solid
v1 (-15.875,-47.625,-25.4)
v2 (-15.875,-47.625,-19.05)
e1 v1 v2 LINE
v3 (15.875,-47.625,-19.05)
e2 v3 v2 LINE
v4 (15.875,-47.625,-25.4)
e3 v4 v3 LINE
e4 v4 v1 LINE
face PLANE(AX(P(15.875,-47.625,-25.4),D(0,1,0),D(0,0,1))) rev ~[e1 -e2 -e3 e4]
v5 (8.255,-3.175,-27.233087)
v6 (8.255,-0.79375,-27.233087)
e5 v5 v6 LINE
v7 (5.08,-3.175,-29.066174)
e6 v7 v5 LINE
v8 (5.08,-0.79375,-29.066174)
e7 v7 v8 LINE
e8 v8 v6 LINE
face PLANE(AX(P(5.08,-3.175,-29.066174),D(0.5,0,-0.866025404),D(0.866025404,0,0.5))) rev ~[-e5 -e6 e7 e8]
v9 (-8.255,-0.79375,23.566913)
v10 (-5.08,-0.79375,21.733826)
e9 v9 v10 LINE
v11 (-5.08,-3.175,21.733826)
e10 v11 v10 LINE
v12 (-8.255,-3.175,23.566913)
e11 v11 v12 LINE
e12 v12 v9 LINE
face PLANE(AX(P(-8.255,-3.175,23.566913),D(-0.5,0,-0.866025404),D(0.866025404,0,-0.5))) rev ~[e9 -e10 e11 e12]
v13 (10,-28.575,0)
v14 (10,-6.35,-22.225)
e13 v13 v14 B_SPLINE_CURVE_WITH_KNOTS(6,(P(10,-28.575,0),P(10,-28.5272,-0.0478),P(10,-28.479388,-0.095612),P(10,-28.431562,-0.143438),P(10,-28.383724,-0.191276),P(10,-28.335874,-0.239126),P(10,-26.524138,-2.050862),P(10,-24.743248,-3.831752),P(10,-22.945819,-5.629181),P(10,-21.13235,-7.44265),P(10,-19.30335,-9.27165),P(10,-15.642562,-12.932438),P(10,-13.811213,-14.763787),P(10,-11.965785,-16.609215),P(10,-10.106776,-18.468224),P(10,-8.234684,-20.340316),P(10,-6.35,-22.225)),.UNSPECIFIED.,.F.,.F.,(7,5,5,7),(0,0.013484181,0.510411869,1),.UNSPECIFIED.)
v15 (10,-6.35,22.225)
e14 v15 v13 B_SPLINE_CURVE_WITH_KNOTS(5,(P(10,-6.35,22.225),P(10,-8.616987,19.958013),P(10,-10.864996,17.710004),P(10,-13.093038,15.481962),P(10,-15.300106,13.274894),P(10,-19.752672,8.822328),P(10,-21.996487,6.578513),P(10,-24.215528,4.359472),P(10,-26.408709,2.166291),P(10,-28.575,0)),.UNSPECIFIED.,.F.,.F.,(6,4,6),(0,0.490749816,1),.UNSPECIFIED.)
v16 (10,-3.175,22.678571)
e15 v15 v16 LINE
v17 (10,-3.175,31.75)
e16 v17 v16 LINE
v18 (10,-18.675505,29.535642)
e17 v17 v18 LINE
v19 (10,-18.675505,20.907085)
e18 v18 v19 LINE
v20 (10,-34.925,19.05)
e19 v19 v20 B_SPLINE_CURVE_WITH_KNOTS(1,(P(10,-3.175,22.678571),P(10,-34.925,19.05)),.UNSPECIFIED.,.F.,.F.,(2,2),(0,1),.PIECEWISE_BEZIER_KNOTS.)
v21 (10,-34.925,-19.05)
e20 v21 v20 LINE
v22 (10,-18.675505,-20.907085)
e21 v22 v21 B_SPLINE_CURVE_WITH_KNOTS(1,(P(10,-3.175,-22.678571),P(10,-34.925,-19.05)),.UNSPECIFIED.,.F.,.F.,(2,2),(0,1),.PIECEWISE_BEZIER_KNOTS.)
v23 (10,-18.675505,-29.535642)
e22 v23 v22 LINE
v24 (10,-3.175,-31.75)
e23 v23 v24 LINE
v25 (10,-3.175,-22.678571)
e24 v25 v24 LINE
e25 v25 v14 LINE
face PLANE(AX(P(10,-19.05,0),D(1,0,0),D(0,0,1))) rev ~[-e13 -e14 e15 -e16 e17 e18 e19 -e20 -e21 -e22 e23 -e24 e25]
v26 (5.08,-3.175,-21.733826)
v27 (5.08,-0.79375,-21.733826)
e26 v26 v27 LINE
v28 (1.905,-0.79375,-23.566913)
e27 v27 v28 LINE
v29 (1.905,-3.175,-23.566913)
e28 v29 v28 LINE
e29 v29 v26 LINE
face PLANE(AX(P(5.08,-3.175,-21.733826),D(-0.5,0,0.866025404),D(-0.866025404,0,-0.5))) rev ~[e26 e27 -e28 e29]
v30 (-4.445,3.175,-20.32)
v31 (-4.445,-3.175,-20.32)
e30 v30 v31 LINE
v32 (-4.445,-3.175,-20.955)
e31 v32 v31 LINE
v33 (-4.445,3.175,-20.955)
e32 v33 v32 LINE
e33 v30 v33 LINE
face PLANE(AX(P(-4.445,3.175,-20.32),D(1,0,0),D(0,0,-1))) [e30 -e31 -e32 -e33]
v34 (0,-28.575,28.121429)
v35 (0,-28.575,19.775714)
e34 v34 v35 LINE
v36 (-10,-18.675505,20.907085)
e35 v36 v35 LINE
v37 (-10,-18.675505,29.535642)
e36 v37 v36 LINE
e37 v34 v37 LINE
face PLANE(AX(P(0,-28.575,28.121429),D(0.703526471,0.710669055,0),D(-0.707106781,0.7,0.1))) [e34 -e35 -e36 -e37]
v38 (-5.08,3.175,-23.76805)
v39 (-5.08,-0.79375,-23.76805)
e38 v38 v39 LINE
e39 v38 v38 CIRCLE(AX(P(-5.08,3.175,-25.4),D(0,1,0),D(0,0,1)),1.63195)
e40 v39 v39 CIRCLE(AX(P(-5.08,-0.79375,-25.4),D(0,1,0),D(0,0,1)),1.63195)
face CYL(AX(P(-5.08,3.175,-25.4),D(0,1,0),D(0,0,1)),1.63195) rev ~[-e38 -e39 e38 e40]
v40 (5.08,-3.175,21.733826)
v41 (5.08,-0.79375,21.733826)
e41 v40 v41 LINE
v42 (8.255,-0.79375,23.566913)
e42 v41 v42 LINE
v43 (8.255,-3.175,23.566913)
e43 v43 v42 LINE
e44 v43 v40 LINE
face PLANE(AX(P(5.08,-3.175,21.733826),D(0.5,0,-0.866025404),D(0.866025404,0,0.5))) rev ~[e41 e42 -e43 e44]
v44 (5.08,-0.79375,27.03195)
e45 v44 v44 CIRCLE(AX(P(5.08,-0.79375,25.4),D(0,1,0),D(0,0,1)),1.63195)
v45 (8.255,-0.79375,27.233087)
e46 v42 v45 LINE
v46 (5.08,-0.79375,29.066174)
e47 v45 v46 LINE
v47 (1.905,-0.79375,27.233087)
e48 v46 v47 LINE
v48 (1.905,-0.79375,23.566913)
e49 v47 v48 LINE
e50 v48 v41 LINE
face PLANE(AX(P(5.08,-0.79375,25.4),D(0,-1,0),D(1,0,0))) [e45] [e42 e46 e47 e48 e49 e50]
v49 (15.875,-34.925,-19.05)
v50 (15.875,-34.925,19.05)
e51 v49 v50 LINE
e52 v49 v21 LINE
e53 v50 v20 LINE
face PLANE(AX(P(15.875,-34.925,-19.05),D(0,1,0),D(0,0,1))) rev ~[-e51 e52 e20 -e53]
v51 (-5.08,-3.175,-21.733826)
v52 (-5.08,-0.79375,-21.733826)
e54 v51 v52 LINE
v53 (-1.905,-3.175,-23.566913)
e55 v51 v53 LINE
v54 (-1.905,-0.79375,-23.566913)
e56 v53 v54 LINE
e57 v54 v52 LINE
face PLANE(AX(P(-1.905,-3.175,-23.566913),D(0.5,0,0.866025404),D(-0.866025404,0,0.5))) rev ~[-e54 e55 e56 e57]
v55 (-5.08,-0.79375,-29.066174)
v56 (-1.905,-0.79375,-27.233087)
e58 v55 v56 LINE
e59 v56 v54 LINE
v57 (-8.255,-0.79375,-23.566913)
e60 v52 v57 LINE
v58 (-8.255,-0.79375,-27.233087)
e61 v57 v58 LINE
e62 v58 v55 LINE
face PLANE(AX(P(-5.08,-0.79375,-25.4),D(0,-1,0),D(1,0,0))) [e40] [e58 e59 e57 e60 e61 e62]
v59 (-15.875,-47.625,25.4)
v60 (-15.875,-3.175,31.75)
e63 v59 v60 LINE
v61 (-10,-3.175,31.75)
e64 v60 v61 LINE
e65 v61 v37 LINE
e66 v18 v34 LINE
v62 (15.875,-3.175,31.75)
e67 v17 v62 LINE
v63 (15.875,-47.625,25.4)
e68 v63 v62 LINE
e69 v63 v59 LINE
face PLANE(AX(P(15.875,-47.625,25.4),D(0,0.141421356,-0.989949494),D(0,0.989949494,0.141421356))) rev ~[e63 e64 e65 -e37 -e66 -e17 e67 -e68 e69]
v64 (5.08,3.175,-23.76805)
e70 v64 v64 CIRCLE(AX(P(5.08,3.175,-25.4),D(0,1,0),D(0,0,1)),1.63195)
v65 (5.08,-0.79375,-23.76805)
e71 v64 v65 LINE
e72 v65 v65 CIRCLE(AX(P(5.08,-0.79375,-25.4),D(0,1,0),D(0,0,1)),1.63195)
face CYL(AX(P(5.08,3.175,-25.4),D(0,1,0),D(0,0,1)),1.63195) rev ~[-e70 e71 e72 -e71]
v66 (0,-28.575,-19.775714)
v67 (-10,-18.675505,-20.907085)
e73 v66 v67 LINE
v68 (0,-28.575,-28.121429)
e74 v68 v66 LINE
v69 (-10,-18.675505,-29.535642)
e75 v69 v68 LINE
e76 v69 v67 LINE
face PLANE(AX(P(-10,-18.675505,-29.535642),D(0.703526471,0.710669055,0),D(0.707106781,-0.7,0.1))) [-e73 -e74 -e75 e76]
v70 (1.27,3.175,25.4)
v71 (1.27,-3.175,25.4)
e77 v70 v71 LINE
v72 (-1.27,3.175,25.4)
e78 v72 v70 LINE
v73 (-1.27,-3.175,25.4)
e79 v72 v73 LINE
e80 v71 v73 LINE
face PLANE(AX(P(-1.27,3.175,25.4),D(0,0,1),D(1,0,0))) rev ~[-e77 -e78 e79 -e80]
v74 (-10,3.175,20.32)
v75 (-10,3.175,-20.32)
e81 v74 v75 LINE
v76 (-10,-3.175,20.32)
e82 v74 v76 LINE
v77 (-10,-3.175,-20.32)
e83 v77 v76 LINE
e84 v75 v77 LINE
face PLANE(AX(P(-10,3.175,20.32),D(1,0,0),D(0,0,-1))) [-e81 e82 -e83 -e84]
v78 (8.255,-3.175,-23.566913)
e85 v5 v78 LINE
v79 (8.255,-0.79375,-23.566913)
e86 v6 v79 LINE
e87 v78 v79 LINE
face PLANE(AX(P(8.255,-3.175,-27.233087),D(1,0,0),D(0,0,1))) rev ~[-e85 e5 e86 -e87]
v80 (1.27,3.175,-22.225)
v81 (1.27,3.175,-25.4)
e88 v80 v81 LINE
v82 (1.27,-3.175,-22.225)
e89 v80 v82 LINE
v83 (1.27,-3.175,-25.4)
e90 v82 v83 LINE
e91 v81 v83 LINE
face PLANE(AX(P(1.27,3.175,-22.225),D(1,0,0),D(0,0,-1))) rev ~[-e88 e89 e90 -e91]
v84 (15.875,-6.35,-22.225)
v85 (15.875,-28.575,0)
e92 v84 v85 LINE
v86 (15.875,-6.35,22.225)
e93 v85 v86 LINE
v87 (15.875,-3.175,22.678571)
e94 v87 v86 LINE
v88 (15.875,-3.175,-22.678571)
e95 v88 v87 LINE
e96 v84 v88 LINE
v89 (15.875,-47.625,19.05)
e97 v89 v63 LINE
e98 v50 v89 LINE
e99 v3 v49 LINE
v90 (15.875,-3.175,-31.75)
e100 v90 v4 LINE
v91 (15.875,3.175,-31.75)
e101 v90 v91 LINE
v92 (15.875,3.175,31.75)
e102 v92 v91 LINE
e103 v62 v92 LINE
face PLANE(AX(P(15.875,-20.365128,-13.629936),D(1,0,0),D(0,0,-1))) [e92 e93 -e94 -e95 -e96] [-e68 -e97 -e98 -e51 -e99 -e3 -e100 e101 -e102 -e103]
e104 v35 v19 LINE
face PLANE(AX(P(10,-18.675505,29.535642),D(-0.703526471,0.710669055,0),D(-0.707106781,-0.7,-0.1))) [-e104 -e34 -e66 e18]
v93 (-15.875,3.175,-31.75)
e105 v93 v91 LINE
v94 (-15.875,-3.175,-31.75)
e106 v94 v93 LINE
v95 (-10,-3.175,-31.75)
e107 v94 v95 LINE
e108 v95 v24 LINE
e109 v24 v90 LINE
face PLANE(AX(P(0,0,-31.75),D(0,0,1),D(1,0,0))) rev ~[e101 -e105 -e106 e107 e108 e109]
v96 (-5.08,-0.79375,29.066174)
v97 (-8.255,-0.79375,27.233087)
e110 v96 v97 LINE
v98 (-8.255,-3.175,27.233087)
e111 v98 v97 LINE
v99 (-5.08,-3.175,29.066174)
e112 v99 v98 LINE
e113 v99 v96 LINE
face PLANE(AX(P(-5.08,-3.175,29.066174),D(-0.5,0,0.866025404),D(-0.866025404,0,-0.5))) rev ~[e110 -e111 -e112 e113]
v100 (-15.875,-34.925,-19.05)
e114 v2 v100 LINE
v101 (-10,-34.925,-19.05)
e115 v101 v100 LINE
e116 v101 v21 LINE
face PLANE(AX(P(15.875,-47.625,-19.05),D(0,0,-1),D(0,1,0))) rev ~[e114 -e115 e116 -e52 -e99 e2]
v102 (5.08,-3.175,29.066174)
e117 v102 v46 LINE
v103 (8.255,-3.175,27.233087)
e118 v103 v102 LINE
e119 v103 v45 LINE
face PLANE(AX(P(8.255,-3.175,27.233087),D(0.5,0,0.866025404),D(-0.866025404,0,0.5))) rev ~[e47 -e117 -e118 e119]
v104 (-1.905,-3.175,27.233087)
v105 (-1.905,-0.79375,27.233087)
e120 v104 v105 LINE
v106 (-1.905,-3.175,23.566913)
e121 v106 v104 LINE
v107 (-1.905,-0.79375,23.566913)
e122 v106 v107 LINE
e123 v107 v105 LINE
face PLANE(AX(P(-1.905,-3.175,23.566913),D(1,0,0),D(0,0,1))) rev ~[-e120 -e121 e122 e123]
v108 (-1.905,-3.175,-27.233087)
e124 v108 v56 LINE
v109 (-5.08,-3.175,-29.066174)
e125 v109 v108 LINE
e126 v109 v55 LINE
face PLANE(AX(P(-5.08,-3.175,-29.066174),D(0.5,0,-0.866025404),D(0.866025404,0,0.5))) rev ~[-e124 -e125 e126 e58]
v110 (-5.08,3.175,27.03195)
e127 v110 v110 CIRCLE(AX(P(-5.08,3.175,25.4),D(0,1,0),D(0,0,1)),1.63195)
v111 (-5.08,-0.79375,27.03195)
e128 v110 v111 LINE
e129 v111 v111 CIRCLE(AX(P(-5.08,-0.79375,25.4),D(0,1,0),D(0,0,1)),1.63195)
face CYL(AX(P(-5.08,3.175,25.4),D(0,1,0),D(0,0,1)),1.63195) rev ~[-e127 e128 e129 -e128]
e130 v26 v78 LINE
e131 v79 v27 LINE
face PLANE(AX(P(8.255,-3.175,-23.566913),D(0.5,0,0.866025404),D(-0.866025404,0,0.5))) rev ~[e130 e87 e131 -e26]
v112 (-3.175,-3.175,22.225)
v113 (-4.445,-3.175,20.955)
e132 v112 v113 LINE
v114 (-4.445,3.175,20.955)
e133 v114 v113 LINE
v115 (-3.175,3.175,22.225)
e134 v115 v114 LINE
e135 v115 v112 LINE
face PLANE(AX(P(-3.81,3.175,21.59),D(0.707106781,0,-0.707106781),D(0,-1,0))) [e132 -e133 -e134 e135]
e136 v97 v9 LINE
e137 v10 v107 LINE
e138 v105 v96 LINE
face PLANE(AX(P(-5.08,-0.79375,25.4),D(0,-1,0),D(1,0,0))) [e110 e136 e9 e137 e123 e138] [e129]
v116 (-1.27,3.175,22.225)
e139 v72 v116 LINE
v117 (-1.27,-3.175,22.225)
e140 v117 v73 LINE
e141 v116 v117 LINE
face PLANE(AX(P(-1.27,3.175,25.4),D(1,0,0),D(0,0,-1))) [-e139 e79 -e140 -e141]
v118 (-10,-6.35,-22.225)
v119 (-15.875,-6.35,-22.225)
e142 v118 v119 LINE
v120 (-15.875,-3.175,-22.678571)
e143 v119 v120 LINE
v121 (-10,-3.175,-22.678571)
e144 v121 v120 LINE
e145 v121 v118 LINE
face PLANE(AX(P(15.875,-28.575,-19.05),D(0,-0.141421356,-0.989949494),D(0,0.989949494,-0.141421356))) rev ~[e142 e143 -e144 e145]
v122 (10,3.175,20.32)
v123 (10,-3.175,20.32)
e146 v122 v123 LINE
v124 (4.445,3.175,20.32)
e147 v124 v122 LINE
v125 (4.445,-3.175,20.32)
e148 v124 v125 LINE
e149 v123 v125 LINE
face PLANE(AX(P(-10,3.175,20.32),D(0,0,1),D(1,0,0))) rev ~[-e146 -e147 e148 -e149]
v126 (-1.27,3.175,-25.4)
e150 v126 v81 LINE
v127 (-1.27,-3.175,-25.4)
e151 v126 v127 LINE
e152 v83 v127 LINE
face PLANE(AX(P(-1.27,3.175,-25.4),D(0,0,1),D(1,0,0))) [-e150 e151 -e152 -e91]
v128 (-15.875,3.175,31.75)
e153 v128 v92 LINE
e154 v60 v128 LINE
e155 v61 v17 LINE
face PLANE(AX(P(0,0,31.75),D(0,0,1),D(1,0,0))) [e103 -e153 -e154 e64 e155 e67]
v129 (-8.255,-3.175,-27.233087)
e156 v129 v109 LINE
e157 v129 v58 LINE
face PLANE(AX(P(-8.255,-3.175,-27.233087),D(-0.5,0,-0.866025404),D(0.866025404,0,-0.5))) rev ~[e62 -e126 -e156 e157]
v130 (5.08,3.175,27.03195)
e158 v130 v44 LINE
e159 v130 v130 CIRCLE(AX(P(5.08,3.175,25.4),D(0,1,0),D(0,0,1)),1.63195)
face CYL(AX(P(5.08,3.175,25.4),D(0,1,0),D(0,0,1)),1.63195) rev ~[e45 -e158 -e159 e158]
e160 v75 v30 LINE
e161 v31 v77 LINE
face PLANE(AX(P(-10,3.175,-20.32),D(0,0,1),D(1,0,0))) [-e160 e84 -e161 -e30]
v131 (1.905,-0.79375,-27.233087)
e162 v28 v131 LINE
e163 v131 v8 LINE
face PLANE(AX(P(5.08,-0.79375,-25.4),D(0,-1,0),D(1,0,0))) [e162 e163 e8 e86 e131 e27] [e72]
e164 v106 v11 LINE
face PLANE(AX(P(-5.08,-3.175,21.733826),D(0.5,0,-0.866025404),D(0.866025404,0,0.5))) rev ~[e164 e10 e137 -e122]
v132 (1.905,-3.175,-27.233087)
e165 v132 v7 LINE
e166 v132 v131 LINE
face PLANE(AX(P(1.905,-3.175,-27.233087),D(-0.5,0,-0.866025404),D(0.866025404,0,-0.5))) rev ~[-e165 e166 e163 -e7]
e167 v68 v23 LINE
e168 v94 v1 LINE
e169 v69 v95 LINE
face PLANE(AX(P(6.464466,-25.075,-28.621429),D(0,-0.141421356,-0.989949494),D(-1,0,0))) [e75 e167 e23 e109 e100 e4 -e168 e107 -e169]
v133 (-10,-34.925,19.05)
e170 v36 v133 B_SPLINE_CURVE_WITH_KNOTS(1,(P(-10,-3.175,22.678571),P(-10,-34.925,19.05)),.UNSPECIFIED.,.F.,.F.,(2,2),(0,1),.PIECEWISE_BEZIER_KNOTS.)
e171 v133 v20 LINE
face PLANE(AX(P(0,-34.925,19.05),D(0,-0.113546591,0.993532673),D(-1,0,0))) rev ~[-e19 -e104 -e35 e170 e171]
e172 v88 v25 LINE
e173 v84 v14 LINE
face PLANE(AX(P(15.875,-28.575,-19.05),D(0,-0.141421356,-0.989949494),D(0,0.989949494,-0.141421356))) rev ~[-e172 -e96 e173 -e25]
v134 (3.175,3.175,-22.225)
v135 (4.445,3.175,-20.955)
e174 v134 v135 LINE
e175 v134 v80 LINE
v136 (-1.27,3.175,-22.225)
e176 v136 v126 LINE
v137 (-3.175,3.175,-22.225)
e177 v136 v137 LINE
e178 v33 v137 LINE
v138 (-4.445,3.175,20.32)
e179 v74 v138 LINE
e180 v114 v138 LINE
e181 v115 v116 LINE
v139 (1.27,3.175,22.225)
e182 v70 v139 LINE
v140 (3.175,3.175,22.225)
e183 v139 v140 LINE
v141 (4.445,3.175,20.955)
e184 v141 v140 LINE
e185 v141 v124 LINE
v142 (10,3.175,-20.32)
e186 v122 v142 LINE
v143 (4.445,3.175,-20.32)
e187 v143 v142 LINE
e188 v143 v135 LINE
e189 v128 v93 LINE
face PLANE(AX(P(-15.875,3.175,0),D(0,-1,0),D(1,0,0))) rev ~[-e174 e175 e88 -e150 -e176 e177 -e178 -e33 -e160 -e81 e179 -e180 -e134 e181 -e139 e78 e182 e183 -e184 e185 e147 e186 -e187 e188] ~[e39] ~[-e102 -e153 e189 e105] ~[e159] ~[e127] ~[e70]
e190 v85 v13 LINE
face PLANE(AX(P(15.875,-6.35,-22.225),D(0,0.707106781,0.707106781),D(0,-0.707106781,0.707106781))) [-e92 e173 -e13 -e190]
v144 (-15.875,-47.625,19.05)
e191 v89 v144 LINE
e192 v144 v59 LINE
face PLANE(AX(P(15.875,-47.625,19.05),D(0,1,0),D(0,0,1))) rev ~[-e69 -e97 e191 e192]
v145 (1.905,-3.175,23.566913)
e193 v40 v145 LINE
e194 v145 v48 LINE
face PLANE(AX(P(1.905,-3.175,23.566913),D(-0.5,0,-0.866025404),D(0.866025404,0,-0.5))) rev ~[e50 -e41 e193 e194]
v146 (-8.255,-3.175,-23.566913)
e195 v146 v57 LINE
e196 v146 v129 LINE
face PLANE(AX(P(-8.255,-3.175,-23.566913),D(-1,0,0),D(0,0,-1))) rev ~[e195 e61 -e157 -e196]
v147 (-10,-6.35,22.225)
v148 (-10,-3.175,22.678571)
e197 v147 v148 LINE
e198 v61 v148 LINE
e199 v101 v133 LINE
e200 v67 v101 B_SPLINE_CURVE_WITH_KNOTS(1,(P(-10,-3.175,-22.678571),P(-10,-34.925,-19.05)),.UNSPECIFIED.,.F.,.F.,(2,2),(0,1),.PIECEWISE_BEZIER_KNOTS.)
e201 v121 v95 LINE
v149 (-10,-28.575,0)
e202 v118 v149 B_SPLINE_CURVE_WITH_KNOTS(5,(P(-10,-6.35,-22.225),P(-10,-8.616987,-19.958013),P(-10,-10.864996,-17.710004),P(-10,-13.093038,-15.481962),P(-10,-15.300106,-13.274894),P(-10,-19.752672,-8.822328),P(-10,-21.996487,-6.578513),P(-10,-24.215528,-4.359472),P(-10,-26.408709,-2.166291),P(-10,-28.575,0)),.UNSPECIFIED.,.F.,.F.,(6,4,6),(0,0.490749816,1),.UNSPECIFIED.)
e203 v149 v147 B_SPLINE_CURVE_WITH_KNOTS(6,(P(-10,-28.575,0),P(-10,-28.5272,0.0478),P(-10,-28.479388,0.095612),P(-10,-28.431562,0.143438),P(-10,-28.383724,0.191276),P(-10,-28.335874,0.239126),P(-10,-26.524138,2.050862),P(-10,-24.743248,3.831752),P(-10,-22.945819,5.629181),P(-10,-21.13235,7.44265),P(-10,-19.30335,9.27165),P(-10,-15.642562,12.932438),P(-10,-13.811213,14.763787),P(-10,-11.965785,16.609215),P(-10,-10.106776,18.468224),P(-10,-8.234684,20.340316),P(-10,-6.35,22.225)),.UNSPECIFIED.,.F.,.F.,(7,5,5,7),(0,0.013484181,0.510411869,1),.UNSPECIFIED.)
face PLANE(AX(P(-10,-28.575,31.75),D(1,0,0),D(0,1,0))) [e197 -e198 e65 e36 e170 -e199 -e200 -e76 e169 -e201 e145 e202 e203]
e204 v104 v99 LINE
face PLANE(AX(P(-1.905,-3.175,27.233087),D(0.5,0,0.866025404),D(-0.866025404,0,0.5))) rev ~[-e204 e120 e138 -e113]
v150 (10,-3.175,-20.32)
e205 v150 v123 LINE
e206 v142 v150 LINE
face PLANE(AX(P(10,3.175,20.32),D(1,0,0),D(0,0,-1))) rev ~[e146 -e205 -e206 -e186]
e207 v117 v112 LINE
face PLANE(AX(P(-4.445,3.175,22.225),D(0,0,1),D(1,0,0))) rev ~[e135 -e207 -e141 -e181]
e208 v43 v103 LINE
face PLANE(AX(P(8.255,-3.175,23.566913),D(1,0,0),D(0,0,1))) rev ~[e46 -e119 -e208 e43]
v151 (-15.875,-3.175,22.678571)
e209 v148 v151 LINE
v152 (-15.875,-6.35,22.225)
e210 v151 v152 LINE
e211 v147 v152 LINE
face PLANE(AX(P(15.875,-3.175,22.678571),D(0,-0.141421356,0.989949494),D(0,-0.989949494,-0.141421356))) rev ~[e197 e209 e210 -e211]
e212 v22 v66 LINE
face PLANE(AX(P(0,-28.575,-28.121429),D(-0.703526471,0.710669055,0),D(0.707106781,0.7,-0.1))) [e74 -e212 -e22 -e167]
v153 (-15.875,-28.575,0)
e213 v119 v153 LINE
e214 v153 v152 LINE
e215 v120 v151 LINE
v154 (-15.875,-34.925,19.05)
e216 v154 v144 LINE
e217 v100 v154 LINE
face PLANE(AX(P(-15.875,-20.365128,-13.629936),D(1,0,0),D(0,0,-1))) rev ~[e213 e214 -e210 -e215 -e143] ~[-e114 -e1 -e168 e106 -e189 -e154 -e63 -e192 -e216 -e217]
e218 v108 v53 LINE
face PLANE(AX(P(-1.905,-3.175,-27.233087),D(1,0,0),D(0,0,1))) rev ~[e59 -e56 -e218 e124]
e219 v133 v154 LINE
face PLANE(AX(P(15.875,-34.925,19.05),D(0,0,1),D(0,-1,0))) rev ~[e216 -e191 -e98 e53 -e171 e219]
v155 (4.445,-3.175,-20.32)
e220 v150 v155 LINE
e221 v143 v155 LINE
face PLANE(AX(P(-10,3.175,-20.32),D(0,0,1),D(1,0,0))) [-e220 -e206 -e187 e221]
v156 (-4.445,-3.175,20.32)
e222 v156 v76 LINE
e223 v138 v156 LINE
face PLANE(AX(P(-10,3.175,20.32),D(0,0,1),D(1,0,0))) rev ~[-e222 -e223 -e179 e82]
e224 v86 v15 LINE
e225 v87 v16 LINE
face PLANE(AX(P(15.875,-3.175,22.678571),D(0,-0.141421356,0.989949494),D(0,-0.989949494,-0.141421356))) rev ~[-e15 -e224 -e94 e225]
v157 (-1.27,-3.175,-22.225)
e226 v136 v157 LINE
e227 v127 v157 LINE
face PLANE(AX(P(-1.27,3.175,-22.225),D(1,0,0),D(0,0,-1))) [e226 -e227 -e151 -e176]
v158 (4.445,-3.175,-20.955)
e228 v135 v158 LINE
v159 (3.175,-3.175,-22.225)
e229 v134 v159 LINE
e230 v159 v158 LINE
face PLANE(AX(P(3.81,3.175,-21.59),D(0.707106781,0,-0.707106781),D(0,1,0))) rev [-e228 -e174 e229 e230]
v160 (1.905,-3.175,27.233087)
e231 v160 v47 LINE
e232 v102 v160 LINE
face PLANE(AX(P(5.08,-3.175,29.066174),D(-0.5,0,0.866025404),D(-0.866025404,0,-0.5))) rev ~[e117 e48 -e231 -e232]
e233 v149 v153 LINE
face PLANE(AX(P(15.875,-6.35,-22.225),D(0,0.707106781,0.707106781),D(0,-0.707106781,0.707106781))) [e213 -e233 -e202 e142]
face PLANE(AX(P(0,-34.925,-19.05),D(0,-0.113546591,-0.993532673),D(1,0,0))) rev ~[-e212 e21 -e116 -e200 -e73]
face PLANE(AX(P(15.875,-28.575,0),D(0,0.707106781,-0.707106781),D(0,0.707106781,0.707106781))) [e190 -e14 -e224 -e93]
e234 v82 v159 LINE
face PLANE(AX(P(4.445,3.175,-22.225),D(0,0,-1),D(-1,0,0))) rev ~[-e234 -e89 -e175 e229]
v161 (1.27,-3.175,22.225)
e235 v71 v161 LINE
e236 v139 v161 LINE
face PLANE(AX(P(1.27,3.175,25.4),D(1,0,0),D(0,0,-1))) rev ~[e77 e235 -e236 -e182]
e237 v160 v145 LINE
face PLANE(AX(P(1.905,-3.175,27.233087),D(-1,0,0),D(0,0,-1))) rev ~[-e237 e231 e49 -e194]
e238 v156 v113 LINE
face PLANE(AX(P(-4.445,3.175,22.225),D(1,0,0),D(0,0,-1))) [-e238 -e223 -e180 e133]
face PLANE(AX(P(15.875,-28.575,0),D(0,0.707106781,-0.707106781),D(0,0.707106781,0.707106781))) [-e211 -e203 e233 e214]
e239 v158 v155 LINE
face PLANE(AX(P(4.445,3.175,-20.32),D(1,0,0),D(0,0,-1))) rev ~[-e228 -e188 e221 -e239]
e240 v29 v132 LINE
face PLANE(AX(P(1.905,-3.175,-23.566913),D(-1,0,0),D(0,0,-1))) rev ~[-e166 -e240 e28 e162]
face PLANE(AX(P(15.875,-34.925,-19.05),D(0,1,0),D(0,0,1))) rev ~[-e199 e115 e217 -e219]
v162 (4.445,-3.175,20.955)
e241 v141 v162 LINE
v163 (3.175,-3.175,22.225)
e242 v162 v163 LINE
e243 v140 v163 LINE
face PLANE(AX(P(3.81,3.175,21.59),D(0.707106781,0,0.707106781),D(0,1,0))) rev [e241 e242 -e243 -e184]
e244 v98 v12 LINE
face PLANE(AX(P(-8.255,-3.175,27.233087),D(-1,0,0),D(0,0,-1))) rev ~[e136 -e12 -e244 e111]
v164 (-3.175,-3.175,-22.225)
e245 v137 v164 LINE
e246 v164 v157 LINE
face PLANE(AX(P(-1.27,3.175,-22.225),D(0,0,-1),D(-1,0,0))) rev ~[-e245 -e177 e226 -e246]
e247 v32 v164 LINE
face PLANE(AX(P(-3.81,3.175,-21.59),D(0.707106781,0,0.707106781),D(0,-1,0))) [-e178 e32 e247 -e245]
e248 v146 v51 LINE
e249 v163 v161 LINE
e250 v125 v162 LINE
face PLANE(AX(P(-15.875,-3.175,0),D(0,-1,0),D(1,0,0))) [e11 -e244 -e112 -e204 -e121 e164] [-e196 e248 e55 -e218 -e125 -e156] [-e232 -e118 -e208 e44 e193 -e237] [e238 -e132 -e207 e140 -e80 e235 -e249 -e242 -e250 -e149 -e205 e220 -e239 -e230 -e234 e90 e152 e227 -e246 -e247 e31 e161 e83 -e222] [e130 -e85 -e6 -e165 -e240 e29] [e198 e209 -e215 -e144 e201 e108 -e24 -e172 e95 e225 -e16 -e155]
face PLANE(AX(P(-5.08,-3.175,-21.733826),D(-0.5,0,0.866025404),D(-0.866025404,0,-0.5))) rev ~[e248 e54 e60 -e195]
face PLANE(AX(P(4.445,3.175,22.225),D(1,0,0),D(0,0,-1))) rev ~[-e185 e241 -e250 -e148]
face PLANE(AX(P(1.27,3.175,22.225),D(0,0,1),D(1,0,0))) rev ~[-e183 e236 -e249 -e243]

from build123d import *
from build123d.topology import SkipClean

# Parameters (mm, degrees)
SKETCH2_W           = 31.75
SKETCH2_H           = 6.35
BOSS_EXTRUDE2_DEPTH = 31.75
SKETCH3_W           = 19.999999878
SKETCH3_H           = 40.64
CUT_EXTRUDE1_DEPTH  = 37.061067996
SKETCH4_R           = 1.63195
CUT_EXTRUDE2_DEPTH  = 37.061067996
SKETCH7_W           = 3.175
SKETCH7_H           = 1.905
SKETCH7_W_2         = 2.54
SKETCH7_H_2         = 3.175
CUT_EXTRUDE4_DEPTH  = 37.061067996
CHAMFER1_SIZE       = 1.27
CUT_EXTRUDE3_DEPTH  = 2.38125
BOSS_EXTRUDE5_DEPTH = 31.75
SKETCH12_W          = 19.999999878
SKETCH12_H          = 25.4
CUT_EXTRUDE5_DEPTH  = 81.946934778
BOSS_EXTRUDE6_DEPTH = 9.071430469
BOSS_EXTRUDE7_DEPTH = 9.071428449
BOSS_EXTRUDE8_DEPTH = 31.75
SKETCH16_W          = 19.999999878
SKETCH16_H          = 45.357142858
SKETCH18_W          = 19.999999878
SKETCH18_H          = 38.1


with BuildPart() as part:
    # Sketch2 → Boss-Extrude2 (new, symmetric)
    with BuildSketch(Plane.XY):
        Rectangle(SKETCH2_W, SKETCH2_H)
    extrude(amount=BOSS_EXTRUDE2_DEPTH, both=True)

    # Sketch3 → Cut-Extrude1 (cut, through all)
    with BuildSketch(Plane(origin=(0, 3.175, 0), x_dir=(1, 0, 0), z_dir=(0, 1, 0))):
        Rectangle(SKETCH3_W, SKETCH3_H)
    extrude(amount=-CUT_EXTRUDE1_DEPTH, mode=Mode.SUBTRACT)

    # Sketch4 → Cut-Extrude2 (cut, through all)
    with BuildSketch(Plane(origin=(0, 3.175, 0), x_dir=(1, 0, 0), z_dir=(0, 1, 0))):
        with Locations(Location((-5.08, 25.4, 0), (0, 0, 270))):
            Circle(SKETCH4_R)
        with Locations(Location((5.08, 25.4, 0), (0, 0, 270))):
            Circle(SKETCH4_R)
        with Locations(Location((-5.08, -25.4, 0), (0, 0, 270))):
            Circle(SKETCH4_R)
        with Locations(Location((5.08, -25.4, 0), (0, 0, 270))):
            Circle(SKETCH4_R)
    extrude(amount=-CUT_EXTRUDE2_DEPTH, mode=Mode.SUBTRACT)

    # Sketch7 → Cut-Extrude4 (cut, through all)
    with BuildSketch(Plane(origin=(0, 3.175, 0), x_dir=(1, 0, 0), z_dir=(0, 1, 0))):
        with Locations((-2.8575, 21.2725)):
            Rectangle(SKETCH7_W, SKETCH7_H)
        with Locations((2.8575, 21.2725)):
            Rectangle(SKETCH7_W, SKETCH7_H)
        with Locations((2.8575, -21.2725)):
            Rectangle(SKETCH7_W, SKETCH7_H)
        with Locations((-2.8575, -21.2725)):
            Rectangle(SKETCH7_W, SKETCH7_H)
        with Locations((0, 21.2725)):
            Rectangle(SKETCH7_W_2, SKETCH7_H)
        with Locations((0, 23.8125)):
            Rectangle(SKETCH7_W_2, SKETCH7_H_2)
        with Locations((0, -21.2725)):
            Rectangle(SKETCH7_W_2, SKETCH7_H)
        with Locations((0, -23.8125)):
            Rectangle(SKETCH7_W_2, SKETCH7_H_2)
    extrude(amount=-CUT_EXTRUDE4_DEPTH, mode=Mode.SUBTRACT)

    # Chamfer1
    chamfer1_edges = [part.edges().sort_by_distance(p)[0] for p in [
        (-4.445, 0, -22.225),
        (4.445, 0, -22.225),
        (4.445, 0, 22.225),
        (-4.445, 0, 22.225),
    ]]
    chamfer(chamfer1_edges, length=CHAMFER1_SIZE)

    # Sketch6 → Cut-Extrude3 (cut)
    with BuildSketch(Plane.XZ.offset(3.175)):
        Polygon((-1.905, 27.233087105), (-5.08, 29.066174209), (-8.255, 27.233087105), (-8.255, 23.566912895), (-5.08, 21.733825791), (-1.905, 23.566912895), align=None)
        Polygon((8.255, 27.233087105), (5.08, 29.066174209), (1.905, 27.233087105), (1.905, 23.566912895), (5.08, 21.733825791), (8.255, 23.566912895), align=None)
        Polygon((8.255, -23.566912895), (5.08, -21.733825791), (1.905, -23.566912895), (1.905, -27.233087105), (5.08, -29.066174209), (8.255, -27.233087105), align=None)
        Polygon((-1.905, -23.566912895), (-5.08, -21.733825791), (-8.255, -23.566912895), (-8.255, -27.233087105), (-5.08, -29.066174209), (-1.905, -27.233087105), align=None)
    extrude(amount=-CUT_EXTRUDE3_DEPTH, mode=Mode.SUBTRACT)

    # Sketch10 → Boss-Extrude5 (add, through all)
    with BuildSketch(Plane(origin=(15.875, 0, 0), x_dir=(0, 0, -1), z_dir=(1, 0, 0))):
        Polygon((25.4, -47.625), (19.05, -47.625), (19.05, -34.925), (-19.05, -34.925), (-19.05, -47.625), (-25.4, -47.625), (-31.75, -3.175), (-22.678571429, -3.175), (-19.05, -28.575), (19.05, -28.575), (22.678571429, -3.175), (31.75, -3.175), align=None)
    extrude(amount=-BOSS_EXTRUDE5_DEPTH)

    # Sketch12 → Cut-Extrude5 (cut, through all)
    with BuildSketch(Plane.XY.offset(31.75)):
        with Locations((0, -15.875)):
            Rectangle(SKETCH12_W, SKETCH12_H)
    extrude(amount=-CUT_EXTRUDE5_DEPTH, mode=Mode.SUBTRACT)

    # Sketch13 → Boss-Extrude6 (add, along a direction that is not the sketch's normal)
    with BuildSketch(Plane(origin=(0, -4.5085, -31.5595), x_dir=(-1, 0, 0), z_dir=(0, -0.14142135623730953, -0.9899494936611667))):
        Polygon((-9.999999939, -24.310836213), (0, -24.310836213), (-9.999999939, -14.310836274), align=None)
        Polygon((9.999999939, -14.310836274), (0, -24.310836213), (9.999999939, -24.310836213), align=None)
    extrude(amount=-BOSS_EXTRUDE6_DEPTH, dir=(0, 0, -1))

    # Sketch14 → Boss-Extrude7 (add, along a direction that is not the sketch's normal)
    with SkipClean():  # the faces are left unmerged after this step: merging them gives an invalid solid
        with BuildSketch(Plane(origin=(0, -4.5085, 31.5595), x_dir=(1, 0, 0), z_dir=(0, -0.14142135623730945, 0.9899494936611667))):
            Polygon((-9.999999939, -24.310836213), (0, -24.310836213), (-9.999999939, -14.310836274), align=None)
            Polygon((9.999999939, -14.310836274), (0, -24.310836213), (9.999999939, -24.310836213), align=None)
        extrude(amount=-BOSS_EXTRUDE7_DEPTH, dir=(0, 0, 1))

    # Sketch15 → Boss-Extrude8 (add)
    with BuildSketch(Plane(origin=(15.875, 0, 0), x_dir=(0, 0, -1), z_dir=(1, 0, 0))):
        Polygon((22.225, -6.35), (0, -28.575), (19.05, -28.575), align=None)
        Polygon((-19.05, -28.575), (0, -28.575), (-22.225, -6.35), align=None)
    extrude(amount=-BOSS_EXTRUDE8_DEPTH)

    # Sketch16 → Cut-Loft1 section 0
    with BuildSketch(Plane.XZ.offset(3.175)):
        Rectangle(SKETCH16_W, SKETCH16_H)
    # Sketch18 → Cut-Loft1 section 1
    with BuildSketch(Plane.XZ.offset(34.925)):
        Rectangle(SKETCH18_W, SKETCH18_H)
    loft(mode=Mode.SUBTRACT)


solid = part.part
